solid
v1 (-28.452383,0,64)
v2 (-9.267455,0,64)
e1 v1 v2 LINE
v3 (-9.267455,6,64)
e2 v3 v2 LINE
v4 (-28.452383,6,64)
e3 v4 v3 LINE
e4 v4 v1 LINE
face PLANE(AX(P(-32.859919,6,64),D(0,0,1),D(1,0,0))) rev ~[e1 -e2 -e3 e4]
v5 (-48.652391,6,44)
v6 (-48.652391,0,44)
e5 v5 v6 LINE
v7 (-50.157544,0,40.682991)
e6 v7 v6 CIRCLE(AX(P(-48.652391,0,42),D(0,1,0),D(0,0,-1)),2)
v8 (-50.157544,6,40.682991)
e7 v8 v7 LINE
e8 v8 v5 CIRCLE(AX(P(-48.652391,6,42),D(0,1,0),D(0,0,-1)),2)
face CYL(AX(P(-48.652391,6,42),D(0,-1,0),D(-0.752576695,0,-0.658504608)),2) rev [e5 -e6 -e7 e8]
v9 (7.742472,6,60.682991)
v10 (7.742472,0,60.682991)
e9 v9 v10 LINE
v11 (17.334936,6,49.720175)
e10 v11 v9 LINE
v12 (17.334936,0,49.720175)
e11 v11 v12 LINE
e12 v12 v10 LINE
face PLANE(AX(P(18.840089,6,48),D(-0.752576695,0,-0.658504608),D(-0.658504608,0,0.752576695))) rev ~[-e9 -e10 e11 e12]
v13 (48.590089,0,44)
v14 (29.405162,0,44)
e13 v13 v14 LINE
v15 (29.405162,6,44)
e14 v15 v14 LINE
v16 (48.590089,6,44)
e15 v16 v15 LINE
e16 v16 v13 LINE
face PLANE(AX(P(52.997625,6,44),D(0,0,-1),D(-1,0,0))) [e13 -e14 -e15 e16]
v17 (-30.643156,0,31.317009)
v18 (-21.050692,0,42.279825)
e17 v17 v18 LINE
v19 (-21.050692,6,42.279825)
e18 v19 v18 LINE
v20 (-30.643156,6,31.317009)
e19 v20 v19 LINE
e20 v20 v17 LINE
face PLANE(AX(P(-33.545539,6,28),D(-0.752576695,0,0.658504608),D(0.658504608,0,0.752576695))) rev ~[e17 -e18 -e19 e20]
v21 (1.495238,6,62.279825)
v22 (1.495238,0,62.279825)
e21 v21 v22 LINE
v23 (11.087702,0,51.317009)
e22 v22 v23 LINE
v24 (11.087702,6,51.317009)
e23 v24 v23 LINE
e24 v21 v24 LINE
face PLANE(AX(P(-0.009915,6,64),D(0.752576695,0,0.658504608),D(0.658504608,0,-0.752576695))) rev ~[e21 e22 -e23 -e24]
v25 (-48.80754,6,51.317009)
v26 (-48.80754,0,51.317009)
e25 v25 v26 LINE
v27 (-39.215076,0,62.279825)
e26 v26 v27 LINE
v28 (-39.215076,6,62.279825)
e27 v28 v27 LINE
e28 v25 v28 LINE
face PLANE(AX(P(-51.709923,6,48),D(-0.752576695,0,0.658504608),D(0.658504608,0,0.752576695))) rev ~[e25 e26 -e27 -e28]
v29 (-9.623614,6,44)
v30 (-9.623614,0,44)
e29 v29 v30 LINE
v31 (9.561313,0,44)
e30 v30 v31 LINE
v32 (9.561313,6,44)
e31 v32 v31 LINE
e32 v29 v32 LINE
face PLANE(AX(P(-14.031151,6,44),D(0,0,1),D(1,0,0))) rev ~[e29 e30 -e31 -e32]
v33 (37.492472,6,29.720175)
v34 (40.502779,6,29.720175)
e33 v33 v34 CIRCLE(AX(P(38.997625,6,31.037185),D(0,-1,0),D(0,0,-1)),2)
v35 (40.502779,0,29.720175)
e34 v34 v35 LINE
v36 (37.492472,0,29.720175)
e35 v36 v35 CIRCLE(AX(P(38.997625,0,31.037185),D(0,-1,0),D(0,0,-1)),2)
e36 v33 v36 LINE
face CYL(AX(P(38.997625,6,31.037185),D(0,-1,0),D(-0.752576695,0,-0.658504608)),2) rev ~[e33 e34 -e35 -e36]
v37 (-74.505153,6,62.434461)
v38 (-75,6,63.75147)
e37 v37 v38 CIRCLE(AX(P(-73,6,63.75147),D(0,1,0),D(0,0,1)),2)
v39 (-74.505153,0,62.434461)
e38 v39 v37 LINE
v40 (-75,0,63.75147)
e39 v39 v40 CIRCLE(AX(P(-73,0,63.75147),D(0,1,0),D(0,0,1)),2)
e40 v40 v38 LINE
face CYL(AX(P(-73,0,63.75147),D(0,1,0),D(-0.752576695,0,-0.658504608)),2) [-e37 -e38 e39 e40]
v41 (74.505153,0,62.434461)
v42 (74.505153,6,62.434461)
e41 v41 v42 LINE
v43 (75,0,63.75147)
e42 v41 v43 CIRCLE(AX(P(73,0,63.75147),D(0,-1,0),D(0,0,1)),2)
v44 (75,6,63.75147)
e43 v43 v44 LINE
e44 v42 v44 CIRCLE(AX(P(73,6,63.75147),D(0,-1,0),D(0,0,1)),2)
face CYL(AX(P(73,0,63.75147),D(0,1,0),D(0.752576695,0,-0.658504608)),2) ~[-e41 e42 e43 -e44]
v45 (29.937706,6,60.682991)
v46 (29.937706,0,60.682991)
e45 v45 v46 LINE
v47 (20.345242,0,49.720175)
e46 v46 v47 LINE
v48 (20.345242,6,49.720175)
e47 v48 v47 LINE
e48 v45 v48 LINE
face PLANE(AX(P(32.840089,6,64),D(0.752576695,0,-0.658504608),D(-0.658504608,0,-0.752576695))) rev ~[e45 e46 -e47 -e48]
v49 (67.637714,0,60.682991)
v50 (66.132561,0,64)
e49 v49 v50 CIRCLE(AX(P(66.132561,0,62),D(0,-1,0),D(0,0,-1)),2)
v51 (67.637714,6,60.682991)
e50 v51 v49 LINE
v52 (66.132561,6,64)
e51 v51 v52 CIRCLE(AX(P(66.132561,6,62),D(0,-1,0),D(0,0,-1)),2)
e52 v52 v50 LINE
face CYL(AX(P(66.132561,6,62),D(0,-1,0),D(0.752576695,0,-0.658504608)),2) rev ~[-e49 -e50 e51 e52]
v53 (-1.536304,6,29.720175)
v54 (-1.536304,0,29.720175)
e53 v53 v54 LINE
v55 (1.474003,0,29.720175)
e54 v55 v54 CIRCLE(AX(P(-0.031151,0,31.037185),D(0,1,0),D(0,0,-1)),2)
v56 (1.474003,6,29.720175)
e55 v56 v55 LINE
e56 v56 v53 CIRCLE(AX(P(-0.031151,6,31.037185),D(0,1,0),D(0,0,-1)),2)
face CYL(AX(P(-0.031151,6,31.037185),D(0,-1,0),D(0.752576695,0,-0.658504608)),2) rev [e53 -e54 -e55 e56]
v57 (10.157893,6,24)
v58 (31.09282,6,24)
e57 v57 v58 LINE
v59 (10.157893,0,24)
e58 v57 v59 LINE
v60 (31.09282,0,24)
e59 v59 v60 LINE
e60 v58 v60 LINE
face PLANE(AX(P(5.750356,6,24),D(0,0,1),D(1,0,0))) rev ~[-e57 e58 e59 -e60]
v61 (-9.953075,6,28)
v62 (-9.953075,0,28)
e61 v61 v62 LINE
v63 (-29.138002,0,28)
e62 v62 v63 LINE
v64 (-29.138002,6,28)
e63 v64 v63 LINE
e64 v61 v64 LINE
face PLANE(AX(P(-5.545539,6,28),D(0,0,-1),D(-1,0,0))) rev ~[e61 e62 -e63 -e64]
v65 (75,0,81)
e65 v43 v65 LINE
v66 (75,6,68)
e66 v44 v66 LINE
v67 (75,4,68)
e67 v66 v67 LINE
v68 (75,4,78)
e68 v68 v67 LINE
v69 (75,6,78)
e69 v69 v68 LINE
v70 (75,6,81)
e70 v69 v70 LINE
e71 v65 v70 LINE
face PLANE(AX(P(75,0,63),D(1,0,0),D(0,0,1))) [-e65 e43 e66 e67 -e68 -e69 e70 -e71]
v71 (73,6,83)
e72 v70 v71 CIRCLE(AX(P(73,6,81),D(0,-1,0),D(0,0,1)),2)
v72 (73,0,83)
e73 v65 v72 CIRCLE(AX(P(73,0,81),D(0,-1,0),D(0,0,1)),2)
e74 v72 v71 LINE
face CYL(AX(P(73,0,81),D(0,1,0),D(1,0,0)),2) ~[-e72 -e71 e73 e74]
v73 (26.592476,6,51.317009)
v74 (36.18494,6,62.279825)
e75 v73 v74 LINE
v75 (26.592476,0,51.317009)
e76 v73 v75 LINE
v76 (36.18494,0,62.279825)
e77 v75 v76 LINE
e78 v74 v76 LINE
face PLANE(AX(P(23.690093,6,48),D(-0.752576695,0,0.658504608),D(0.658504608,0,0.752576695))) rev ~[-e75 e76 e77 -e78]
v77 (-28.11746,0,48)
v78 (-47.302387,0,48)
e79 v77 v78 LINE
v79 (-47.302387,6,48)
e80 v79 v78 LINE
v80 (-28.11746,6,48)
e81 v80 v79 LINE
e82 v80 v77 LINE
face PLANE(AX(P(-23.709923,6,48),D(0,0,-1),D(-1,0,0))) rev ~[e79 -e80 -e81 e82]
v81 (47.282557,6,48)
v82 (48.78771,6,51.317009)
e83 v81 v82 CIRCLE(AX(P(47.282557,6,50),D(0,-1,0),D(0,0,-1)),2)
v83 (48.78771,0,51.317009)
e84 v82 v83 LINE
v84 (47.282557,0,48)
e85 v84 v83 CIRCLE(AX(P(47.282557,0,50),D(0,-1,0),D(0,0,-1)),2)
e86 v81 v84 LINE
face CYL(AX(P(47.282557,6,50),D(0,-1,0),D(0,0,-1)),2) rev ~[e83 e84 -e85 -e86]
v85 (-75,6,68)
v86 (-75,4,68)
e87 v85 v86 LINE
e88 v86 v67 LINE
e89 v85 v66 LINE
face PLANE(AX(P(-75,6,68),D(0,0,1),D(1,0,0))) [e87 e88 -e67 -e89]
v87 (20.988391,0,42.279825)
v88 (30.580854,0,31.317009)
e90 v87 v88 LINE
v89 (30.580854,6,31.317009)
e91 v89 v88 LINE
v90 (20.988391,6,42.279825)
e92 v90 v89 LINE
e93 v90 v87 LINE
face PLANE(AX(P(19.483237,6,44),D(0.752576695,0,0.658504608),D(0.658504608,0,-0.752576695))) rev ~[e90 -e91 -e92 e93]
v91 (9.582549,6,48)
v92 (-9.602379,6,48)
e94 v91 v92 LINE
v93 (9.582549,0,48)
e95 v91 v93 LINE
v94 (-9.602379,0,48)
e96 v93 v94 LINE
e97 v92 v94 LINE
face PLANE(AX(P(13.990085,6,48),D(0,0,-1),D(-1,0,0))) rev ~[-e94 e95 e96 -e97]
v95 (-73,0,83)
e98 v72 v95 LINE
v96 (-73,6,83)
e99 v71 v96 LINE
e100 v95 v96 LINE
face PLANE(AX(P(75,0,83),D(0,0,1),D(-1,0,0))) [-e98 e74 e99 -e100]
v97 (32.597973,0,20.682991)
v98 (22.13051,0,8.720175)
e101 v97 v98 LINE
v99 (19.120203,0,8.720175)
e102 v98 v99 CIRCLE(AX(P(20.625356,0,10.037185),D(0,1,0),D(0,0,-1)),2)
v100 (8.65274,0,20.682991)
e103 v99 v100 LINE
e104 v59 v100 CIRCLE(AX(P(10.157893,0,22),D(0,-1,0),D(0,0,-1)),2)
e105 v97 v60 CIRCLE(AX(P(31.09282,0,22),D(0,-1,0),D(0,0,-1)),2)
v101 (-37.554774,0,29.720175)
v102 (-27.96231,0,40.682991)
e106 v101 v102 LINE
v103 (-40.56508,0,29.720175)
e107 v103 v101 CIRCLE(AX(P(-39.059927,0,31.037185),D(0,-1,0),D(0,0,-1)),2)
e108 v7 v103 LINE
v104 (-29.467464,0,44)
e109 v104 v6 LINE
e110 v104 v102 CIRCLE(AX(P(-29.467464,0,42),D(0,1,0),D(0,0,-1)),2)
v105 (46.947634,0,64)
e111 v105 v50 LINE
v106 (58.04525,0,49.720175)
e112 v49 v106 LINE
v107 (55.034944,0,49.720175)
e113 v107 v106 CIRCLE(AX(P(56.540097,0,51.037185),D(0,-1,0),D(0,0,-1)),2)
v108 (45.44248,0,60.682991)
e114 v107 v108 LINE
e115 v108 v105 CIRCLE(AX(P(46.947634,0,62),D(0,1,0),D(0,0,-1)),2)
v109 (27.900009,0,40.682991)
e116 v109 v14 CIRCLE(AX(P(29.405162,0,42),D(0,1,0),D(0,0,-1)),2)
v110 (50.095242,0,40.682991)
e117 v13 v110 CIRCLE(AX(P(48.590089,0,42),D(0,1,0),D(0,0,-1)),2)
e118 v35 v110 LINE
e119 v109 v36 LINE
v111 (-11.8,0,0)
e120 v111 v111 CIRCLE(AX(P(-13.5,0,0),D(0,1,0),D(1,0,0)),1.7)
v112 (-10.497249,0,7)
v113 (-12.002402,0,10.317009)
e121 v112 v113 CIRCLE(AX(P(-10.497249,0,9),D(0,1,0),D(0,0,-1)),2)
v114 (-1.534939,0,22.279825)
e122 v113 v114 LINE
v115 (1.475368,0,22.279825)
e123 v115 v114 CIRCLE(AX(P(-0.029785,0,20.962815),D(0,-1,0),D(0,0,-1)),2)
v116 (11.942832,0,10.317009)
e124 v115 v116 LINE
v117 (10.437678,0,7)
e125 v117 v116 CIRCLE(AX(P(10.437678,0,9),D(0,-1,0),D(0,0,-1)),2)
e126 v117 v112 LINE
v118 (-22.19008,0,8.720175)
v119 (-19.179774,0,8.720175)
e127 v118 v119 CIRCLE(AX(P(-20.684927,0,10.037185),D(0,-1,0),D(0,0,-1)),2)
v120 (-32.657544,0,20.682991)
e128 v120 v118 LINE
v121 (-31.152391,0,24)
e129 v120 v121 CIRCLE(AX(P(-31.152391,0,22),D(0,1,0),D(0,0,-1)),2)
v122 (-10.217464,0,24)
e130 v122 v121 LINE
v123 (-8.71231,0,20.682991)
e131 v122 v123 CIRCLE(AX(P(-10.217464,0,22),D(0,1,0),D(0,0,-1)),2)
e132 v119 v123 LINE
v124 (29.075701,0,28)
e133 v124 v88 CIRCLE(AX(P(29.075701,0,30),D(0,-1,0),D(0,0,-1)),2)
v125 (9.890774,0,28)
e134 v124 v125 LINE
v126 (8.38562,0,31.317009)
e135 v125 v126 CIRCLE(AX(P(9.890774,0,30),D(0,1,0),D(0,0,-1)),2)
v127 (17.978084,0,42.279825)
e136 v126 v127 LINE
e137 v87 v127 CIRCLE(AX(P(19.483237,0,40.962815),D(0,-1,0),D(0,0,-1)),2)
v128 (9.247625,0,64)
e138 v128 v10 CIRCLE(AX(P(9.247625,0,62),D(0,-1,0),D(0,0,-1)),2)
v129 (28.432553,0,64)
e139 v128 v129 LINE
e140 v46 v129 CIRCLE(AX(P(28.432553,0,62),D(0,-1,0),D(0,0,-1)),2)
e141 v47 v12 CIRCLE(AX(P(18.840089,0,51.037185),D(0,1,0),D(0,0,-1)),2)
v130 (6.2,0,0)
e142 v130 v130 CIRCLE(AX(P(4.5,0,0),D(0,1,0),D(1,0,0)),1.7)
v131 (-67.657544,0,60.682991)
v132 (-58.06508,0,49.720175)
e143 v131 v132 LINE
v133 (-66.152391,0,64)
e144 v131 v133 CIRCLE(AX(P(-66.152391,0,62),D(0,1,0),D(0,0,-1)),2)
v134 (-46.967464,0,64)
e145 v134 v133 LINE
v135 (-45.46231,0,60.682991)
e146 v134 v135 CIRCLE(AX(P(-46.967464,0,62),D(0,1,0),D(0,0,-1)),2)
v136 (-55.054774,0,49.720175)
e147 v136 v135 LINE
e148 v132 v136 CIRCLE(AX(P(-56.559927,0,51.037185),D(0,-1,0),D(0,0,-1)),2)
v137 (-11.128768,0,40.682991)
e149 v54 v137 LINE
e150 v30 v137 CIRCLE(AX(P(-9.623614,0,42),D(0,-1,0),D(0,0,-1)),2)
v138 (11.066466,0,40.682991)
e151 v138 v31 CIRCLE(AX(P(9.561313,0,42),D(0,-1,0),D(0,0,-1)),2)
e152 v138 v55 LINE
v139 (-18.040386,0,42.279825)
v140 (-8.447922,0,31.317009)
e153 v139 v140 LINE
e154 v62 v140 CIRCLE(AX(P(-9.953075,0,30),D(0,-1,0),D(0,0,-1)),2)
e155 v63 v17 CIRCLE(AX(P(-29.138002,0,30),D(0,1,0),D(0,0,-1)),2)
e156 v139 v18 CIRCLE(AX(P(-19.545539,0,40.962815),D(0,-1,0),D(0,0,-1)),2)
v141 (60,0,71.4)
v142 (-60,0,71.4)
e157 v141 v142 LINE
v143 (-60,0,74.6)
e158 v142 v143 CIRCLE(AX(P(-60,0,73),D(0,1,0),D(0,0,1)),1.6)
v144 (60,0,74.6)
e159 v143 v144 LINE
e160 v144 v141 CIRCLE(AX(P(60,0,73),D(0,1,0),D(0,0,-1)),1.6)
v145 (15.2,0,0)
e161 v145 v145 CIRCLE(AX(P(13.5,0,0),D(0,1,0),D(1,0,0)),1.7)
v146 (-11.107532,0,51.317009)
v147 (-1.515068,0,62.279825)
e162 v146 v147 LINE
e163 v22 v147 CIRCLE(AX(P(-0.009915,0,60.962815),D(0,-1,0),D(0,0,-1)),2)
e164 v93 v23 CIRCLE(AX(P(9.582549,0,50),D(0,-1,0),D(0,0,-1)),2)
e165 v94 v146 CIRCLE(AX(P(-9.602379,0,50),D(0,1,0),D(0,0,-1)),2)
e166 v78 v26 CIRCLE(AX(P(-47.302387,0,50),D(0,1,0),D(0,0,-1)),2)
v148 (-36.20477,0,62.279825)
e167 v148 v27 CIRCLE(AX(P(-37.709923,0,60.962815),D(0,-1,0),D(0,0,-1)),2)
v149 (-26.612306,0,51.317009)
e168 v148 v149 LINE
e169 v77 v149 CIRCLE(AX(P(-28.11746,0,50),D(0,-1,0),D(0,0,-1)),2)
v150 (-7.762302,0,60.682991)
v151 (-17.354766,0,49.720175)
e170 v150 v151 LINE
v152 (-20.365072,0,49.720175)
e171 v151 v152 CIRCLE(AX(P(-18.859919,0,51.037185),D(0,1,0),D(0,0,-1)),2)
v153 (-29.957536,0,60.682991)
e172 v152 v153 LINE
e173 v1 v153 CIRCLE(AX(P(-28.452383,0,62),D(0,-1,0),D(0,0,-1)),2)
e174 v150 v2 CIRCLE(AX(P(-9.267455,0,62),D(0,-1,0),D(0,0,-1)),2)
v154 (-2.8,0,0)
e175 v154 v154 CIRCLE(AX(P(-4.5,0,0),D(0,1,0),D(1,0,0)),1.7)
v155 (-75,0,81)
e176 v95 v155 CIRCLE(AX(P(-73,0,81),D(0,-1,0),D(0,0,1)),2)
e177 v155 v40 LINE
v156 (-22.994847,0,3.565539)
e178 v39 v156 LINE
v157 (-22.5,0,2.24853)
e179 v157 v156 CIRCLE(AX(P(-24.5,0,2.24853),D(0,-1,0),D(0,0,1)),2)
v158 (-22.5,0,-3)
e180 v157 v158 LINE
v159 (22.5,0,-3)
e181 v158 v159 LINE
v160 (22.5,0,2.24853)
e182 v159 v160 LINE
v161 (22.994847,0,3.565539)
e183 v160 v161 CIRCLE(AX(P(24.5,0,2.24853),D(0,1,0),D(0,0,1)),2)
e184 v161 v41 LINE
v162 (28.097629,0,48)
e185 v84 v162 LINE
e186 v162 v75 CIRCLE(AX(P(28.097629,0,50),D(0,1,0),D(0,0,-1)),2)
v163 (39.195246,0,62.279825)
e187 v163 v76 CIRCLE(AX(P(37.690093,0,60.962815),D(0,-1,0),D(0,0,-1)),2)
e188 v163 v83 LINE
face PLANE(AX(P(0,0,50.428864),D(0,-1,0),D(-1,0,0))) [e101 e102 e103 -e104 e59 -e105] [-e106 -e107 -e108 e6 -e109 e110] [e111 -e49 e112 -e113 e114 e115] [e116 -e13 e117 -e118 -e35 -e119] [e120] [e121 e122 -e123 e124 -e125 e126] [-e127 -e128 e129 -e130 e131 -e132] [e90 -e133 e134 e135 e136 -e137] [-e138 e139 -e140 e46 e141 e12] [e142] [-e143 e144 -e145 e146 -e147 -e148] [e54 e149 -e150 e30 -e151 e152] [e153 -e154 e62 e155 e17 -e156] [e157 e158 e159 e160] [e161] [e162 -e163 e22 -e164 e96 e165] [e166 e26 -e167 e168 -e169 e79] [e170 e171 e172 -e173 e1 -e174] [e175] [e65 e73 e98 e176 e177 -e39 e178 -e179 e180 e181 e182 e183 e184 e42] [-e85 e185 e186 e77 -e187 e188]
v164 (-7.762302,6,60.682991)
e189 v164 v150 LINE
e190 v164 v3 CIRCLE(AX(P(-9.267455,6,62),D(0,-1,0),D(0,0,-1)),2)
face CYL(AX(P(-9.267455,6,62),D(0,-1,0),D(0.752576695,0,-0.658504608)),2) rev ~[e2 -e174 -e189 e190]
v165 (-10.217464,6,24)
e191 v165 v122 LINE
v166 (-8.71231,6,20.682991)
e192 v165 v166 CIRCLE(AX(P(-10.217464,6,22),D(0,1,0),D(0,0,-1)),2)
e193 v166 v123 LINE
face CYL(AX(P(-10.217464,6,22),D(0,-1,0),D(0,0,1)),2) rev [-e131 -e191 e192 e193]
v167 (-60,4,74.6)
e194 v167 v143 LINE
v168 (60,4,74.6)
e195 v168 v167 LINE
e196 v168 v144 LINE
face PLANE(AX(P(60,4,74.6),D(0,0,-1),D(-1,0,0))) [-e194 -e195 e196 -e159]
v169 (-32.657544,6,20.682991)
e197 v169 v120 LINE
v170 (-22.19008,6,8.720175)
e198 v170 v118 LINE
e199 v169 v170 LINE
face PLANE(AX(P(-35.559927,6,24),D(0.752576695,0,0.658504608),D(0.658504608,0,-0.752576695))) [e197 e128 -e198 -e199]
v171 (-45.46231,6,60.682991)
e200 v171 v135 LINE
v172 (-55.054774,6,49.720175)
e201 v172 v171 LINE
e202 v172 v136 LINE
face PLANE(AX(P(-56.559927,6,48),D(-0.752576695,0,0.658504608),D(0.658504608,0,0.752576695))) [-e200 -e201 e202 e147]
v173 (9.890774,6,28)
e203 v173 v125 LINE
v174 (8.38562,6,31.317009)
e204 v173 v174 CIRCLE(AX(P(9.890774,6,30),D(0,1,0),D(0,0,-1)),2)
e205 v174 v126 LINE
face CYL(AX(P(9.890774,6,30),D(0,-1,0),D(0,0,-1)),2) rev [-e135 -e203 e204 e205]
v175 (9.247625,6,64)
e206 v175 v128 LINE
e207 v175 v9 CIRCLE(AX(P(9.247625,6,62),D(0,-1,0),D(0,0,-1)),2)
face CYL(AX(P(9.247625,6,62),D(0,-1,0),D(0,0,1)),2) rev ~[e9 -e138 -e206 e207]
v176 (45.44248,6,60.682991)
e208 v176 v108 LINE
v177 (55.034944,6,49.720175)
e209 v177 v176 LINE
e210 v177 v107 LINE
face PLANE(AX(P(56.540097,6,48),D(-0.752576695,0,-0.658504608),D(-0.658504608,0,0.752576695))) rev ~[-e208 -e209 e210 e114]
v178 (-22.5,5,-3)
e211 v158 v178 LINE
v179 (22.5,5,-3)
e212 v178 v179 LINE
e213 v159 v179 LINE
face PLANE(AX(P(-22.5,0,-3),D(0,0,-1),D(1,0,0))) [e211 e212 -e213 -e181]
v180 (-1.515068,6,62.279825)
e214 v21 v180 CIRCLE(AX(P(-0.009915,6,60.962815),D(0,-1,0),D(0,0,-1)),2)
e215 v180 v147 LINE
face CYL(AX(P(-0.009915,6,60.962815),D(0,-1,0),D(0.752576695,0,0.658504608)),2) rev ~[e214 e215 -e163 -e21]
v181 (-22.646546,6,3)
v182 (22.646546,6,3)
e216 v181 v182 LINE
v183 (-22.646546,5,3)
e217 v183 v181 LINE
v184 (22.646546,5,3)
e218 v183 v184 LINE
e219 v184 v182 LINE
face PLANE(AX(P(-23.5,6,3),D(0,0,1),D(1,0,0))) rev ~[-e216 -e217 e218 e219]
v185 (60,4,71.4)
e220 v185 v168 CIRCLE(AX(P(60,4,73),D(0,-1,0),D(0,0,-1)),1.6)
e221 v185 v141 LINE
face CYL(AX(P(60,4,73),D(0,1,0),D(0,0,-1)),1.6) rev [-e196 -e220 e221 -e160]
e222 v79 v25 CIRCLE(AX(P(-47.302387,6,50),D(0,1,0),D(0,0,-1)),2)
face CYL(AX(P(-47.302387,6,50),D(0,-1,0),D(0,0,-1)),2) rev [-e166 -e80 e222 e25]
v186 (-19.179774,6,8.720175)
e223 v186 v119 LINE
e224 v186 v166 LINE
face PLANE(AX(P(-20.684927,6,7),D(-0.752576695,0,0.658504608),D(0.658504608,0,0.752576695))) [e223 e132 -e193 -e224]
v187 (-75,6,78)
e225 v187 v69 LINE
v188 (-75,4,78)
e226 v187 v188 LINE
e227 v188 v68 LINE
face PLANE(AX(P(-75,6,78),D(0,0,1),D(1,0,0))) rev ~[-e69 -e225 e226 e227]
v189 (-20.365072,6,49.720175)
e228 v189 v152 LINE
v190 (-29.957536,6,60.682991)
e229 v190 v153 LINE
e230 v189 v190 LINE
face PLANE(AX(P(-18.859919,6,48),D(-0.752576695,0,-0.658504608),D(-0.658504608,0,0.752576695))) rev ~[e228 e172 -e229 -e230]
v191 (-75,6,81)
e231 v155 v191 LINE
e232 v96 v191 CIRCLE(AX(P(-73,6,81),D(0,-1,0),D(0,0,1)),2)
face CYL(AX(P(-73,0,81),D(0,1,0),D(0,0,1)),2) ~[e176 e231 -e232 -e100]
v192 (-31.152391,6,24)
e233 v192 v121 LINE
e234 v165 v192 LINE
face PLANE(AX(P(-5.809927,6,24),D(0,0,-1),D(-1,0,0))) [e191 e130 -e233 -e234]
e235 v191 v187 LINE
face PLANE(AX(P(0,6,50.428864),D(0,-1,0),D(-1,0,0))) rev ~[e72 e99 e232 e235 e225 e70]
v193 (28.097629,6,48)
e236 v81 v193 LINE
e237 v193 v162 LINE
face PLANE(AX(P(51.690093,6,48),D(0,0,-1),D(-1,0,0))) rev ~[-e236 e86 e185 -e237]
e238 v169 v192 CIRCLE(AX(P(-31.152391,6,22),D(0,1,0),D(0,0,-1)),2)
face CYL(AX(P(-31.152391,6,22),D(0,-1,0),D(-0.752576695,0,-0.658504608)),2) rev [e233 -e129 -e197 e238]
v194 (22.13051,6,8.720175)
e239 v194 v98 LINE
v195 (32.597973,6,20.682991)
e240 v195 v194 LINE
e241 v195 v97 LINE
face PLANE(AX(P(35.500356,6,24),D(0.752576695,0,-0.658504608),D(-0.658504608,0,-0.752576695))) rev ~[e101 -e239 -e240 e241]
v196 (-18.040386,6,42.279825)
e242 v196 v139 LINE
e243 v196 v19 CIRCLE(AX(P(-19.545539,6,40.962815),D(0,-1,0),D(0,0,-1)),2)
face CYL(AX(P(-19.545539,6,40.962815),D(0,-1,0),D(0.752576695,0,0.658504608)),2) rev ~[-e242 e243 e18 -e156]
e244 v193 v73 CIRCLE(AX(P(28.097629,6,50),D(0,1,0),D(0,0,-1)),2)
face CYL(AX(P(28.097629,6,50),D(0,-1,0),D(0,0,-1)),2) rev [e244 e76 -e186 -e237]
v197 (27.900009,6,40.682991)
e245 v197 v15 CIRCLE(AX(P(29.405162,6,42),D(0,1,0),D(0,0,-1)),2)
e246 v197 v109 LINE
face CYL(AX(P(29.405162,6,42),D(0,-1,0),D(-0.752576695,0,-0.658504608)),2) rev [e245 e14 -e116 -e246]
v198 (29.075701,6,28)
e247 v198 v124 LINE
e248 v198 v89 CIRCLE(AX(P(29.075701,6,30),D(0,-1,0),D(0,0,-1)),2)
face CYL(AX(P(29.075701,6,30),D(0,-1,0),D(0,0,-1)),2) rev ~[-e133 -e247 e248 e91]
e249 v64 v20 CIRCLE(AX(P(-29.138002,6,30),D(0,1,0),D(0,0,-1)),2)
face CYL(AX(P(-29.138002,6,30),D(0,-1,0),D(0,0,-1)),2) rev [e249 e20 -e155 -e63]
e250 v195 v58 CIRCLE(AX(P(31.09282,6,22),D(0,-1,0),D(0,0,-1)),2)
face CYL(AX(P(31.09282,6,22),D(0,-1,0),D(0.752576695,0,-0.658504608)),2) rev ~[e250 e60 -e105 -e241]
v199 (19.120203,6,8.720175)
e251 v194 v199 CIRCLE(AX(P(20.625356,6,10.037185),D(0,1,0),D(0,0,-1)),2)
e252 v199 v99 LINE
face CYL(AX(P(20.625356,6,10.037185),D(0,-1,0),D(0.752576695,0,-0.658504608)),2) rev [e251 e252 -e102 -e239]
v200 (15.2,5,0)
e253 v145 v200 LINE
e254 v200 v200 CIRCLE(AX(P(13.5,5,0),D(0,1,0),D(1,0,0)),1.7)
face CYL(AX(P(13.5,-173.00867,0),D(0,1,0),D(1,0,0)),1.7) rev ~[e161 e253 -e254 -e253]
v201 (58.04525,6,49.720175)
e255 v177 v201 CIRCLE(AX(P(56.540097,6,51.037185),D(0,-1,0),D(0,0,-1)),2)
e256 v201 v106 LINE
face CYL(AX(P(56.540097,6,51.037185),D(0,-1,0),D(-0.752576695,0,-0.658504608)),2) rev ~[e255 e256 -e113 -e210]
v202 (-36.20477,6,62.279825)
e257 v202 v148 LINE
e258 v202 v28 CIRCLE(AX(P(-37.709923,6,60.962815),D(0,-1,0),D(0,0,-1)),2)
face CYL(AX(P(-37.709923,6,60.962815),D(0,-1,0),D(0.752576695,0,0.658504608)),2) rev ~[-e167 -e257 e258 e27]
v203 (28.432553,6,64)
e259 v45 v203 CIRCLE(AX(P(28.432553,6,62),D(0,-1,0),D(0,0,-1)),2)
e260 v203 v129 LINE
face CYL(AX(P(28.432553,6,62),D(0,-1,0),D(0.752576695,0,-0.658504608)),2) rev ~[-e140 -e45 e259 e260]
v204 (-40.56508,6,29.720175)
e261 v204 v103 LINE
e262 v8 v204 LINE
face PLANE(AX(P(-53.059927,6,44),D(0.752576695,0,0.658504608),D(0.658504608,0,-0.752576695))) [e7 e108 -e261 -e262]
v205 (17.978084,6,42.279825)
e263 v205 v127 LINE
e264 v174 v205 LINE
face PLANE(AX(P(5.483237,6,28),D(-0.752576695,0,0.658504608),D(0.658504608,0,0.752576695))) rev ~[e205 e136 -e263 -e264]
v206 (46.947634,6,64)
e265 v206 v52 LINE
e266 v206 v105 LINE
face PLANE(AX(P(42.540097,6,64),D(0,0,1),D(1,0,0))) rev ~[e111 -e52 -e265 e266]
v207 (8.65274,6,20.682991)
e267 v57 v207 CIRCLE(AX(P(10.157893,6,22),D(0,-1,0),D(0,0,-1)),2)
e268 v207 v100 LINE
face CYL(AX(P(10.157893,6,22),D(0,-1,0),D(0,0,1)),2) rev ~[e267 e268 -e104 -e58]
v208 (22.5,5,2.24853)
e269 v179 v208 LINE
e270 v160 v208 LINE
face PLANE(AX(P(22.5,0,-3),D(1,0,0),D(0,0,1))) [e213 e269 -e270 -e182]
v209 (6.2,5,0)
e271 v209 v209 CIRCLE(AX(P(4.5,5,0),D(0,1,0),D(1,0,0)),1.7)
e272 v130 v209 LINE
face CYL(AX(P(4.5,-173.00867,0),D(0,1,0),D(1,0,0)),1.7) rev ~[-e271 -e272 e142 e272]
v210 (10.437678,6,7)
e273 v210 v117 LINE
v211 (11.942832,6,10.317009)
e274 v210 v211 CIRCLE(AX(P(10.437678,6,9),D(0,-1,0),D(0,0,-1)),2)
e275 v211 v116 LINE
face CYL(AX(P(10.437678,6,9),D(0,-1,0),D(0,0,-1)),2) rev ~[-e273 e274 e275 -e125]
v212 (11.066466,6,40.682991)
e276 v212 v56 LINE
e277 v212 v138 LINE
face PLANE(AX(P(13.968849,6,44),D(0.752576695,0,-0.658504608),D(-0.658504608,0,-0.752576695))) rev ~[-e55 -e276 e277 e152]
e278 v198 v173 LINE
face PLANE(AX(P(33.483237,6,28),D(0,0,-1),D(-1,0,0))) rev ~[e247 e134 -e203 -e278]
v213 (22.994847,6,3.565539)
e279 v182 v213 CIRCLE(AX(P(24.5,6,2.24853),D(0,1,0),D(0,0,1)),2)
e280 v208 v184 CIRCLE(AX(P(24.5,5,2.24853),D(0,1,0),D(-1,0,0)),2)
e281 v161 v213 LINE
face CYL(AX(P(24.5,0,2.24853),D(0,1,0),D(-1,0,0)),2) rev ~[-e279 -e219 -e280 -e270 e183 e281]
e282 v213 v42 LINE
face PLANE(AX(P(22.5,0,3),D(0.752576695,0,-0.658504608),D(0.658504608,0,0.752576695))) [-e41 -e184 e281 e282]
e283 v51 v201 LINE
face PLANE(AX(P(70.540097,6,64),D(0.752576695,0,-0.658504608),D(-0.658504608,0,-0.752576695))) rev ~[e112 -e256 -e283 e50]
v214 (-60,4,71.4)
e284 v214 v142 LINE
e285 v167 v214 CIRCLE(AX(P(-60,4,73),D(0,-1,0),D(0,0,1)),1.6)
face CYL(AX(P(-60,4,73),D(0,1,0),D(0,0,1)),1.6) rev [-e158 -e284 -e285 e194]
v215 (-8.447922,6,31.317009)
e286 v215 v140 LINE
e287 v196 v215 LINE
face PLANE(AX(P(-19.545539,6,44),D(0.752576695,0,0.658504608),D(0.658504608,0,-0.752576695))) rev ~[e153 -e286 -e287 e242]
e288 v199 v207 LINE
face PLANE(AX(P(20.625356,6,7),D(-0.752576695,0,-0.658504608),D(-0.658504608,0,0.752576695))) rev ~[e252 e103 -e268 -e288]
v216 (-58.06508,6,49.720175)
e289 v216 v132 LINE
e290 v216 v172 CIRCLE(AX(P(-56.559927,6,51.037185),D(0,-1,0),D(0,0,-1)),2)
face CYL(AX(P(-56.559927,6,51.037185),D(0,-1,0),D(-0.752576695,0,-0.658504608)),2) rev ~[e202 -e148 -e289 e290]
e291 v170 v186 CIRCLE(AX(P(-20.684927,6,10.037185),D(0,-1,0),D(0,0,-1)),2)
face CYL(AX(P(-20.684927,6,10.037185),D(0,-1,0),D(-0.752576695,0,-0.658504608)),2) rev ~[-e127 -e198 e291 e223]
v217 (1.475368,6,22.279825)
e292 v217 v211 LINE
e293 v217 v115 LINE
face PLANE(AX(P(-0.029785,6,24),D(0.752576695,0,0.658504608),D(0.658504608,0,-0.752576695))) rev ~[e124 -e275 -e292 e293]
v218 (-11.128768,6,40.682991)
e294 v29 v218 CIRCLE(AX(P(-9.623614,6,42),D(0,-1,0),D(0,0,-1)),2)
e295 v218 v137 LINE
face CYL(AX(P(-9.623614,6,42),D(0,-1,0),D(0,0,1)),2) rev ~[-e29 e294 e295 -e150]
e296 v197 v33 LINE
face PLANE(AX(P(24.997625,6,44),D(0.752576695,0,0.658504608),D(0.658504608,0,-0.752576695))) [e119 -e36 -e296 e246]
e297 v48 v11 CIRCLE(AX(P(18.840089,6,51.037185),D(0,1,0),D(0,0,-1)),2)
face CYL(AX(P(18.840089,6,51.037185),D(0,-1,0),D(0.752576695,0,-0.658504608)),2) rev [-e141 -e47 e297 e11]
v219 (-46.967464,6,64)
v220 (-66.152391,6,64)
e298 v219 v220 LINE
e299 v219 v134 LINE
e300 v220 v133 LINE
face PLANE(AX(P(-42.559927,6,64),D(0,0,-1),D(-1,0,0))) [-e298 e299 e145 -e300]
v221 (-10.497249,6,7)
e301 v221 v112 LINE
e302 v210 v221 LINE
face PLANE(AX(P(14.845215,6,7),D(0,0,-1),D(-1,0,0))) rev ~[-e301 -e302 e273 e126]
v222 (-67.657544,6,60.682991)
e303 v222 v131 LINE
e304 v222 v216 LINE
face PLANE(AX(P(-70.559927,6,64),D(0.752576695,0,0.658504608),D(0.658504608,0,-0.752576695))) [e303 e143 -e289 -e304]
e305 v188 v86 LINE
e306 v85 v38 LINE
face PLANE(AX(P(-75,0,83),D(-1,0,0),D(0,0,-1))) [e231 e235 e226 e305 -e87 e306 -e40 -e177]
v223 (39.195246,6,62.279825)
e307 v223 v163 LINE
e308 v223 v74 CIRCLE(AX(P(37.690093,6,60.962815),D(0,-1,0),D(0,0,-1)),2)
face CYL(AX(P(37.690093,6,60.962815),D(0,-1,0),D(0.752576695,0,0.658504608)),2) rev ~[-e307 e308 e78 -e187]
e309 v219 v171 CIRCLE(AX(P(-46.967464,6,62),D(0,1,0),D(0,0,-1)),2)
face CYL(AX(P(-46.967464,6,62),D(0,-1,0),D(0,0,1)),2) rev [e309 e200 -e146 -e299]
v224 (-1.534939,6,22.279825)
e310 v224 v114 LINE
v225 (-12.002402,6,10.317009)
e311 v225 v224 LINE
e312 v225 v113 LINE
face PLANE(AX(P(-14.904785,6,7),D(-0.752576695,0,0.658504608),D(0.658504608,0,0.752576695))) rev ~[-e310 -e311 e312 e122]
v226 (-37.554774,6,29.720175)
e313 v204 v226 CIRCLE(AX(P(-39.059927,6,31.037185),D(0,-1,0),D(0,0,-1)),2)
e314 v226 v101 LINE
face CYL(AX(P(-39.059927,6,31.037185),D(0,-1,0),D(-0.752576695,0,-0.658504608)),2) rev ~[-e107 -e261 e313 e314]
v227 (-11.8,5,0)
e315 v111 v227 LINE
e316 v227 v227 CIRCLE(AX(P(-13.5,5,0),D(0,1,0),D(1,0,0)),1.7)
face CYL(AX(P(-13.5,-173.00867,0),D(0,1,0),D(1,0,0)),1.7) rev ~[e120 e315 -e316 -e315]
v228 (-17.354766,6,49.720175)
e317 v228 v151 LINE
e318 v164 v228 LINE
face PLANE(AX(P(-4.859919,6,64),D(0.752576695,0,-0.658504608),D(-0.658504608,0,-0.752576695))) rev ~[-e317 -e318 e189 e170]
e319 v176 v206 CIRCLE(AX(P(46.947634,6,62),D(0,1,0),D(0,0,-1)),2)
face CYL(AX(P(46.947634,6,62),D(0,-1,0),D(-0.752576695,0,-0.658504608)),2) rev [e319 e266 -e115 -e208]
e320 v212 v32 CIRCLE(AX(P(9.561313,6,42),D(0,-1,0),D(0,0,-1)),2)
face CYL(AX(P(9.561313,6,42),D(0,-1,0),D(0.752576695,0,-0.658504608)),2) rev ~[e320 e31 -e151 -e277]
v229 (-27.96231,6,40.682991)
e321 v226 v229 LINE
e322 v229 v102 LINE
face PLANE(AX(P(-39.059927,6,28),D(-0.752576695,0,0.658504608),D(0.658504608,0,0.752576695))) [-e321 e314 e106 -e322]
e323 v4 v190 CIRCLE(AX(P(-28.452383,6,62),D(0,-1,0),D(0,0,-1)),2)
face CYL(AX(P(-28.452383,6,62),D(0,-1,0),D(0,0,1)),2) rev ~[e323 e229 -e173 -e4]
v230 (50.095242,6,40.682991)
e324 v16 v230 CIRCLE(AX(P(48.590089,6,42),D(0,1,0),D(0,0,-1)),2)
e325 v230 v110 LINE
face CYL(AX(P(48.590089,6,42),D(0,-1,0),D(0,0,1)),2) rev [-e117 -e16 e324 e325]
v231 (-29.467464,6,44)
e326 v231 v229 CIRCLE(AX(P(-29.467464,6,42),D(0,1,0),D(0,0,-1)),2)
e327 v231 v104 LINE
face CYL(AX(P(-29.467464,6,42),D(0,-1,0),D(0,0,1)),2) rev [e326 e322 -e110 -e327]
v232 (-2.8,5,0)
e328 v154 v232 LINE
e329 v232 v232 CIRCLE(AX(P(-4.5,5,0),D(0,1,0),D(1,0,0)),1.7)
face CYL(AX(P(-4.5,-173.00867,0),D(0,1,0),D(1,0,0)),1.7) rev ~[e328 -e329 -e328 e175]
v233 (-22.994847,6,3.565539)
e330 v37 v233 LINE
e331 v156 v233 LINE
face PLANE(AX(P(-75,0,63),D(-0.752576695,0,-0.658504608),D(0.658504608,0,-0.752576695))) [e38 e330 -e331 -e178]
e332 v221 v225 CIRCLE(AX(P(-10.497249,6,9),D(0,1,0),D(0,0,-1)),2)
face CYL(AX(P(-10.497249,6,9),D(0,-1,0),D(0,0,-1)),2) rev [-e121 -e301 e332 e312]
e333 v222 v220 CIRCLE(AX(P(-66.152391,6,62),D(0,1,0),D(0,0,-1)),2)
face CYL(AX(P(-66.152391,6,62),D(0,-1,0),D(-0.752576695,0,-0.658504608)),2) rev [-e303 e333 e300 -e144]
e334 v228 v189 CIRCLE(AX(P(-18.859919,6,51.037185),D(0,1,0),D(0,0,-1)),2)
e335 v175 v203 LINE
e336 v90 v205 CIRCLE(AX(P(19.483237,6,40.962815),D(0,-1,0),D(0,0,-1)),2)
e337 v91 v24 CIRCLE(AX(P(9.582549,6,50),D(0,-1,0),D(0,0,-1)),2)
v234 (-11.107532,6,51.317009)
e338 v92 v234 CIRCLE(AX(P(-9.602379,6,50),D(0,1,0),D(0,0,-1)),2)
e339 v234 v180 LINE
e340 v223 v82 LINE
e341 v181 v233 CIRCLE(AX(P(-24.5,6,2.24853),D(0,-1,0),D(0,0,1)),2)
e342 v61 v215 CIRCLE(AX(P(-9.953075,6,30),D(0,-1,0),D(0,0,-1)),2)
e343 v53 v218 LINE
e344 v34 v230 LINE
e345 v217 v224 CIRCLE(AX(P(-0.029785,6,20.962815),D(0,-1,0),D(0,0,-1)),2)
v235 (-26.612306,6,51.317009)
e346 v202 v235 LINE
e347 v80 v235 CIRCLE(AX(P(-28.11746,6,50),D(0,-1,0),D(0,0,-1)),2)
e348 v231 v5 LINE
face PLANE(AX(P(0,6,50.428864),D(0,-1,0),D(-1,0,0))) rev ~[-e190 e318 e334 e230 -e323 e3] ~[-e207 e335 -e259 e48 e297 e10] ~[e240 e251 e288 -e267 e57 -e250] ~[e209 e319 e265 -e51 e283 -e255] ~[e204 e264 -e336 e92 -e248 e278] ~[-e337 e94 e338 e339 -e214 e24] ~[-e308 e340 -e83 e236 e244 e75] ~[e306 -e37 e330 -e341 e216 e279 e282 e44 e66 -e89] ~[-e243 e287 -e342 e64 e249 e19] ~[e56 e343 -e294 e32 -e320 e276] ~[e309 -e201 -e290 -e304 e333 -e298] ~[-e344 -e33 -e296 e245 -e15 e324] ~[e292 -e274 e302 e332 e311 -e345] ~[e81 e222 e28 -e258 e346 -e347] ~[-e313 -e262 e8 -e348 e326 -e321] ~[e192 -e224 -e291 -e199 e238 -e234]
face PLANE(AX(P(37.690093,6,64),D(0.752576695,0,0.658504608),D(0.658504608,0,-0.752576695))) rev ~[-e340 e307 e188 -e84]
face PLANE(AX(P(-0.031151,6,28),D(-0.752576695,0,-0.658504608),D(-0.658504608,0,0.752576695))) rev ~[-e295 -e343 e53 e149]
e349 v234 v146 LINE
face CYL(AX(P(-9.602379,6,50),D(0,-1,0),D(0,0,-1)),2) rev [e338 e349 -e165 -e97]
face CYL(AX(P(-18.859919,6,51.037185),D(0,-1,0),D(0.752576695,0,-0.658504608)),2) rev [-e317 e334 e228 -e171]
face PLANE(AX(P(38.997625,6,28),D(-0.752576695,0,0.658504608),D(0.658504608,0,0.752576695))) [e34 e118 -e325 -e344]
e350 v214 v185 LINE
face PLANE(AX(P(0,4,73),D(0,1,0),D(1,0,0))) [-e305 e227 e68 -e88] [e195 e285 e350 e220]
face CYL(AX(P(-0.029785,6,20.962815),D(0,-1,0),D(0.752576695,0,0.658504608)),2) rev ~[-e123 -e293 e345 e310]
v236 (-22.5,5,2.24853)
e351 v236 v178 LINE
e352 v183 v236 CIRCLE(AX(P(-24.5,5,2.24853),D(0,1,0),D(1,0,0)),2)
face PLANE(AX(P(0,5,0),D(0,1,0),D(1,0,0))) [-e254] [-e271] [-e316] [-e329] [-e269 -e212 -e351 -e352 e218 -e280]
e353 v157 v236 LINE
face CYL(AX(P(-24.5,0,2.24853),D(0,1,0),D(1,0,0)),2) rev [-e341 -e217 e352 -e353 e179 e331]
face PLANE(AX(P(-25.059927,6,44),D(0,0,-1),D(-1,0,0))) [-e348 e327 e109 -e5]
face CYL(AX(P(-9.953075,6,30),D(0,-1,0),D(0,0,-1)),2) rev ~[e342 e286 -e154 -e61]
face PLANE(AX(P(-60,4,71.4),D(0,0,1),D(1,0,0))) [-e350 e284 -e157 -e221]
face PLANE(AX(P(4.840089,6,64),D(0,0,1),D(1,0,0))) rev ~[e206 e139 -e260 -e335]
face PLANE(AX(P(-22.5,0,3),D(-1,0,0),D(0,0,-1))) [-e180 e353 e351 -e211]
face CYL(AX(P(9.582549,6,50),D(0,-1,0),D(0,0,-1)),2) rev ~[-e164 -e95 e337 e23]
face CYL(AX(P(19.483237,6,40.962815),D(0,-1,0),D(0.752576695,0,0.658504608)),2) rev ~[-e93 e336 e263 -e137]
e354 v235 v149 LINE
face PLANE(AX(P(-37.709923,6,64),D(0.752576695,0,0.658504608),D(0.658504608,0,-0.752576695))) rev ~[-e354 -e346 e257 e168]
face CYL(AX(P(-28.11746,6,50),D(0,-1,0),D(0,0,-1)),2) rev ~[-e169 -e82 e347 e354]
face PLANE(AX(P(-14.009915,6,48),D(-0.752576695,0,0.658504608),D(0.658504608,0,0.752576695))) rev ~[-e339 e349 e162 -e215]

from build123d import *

# Parameters (mm, degrees)
EXTRUDE_1_DEPTH     = 6
SKETCH_2_W          = 150
SKETCH_2_H          = 10
CUT_EXTRUDE_1_DEPTH = 2
FILLET_3_R          = 2
SKETCH_3_W          = 47
SKETCH_3_H          = 6
CUT_EXTRUDE_2_DEPTH = 1
HOLE_WIZARD_M31_D   = 3.4
CUT_EXTRUDE_3_DEPTH = 112.937482552
CUT_EXTRUDE_4_REACH = 114.027
FILLET_1_R          = 2


with BuildPart() as part:
    # Эскиз1 → Бобышка-Вытянуть1 (new body)
    with BuildSketch(Plane(origin=(0, 0, 0), x_dir=(1, 0, 0), z_dir=(0, 1, 0))):
        Polygon((-22.5, 3), (22.5, 3), (22.5, -3), (75, -63), (75, -83), (-75, -83), (-75, -63), (-22.5, -3), align=None)
    extrude(amount=EXTRUDE_1_DEPTH)

    # Эскиз2 → Вырез-Вытянуть1 (cut)
    with BuildSketch(Plane(origin=(0, 6, 0), x_dir=(1, 0, 0), z_dir=(0, 1, 0))):
        with Locations((0, -73)):
            Rectangle(SKETCH_2_W, SKETCH_2_H)
    extrude(amount=-CUT_EXTRUDE_1_DEPTH, mode=Mode.SUBTRACT)

    # Скругление3
    fillet_3_edges = [part.edges().sort_by_distance(p)[0] for p in [
        (-22.5, 3, 3),
        (22.5, 3, 3),
    ]]
    fillet(fillet_3_edges, radius=FILLET_3_R)

    # Эскиз3 → Вырез-Вытянуть2 (cut)
    with BuildSketch(Plane(origin=(0, 6, 0), x_dir=(1, 0, 0), z_dir=(0, 1, 0))):
        Rectangle(SKETCH_3_W, SKETCH_3_H)
    extrude(amount=-CUT_EXTRUDE_2_DEPTH, mode=Mode.SUBTRACT)

    # Отверстие с зазором M31 (through all)
    with Locations(Plane(origin=(0, 0, 0), x_dir=(-1, 0, 0), z_dir=(0, -1, 0))):
        with Locations((-13.5, 0), (-4.5, 0), (4.5, 0), (13.5, 0)):
            Hole(HOLE_WIZARD_M31_D / 2)

    # Эскиз9 → Вырез-Вытянуть3 (cut, through all)
    with BuildSketch(Plane(origin=(0, 4, 0), x_dir=(1, 0, 0), z_dir=(0, 1, 0))):
        with BuildLine():
            Line((-60, -71.4), (60, -71.4))
            ThreePointArc((60, -71.4), (61.6, -73), (60, -74.6))
            Line((60, -74.6), (-60, -74.6))
            ThreePointArc((-60, -74.6), (-61.6, -73), (-60, -71.4))
        make_face()
    extrude(amount=-CUT_EXTRUDE_3_DEPTH, mode=Mode.SUBTRACT)

    # Эскиз10 → Вырез-Вытянуть4 (cut, up to next)
    with BuildSketch(Plane(origin=(0, 6, 0), x_dir=(1, 0, 0), z_dir=(0, 1, 0)), mode=Mode.PRIVATE) as cut_extrude_4_sk1:
        Polygon((-70.559927094, -64), (-56.559927094, -48), (-42.559927094, -64), align=None)
    cut_extrude_4_tool1 = extrude(cut_extrude_4_sk1.sketch, amount=-CUT_EXTRUDE_4_REACH, mode=Mode.PRIVATE) & part.part
    # Эскиз10 → Вырез-Вытянуть4 (cut, up to next)
    with BuildSketch(Plane(origin=(0, 6, 0), x_dir=(1, 0, 0), z_dir=(0, 1, 0)), mode=Mode.PRIVATE) as cut_extrude_4_sk2:
        Polygon((-51.709923067, -48), (-37.709923067, -64), (-23.709923067, -48), align=None)
    cut_extrude_4_tool2 = extrude(cut_extrude_4_sk2.sketch, amount=-CUT_EXTRUDE_4_REACH, mode=Mode.PRIVATE) & part.part
    # Эскиз10 → Вырез-Вытянуть4 (cut, up to next)
    with BuildSketch(Plane(origin=(0, 6, 0), x_dir=(1, 0, 0), z_dir=(0, 1, 0)), mode=Mode.PRIVATE) as cut_extrude_4_sk3:
        Polygon((-18.85991904, -48), (-32.85991904, -64), (-4.85991904, -64), align=None)
    cut_extrude_4_tool3 = extrude(cut_extrude_4_sk3.sketch, amount=-CUT_EXTRUDE_4_REACH, mode=Mode.PRIVATE) & part.part
    # Эскиз10 → Вырез-Вытянуть4 (cut, up to next)
    with BuildSketch(Plane(origin=(0, 6, 0), x_dir=(1, 0, 0), z_dir=(0, 1, 0)), mode=Mode.PRIVATE) as cut_extrude_4_sk4:
        Polygon((-14.009915012, -48), (-0.009915012, -64), (13.990084988, -48), align=None)
    cut_extrude_4_tool4 = extrude(cut_extrude_4_sk4.sketch, amount=-CUT_EXTRUDE_4_REACH, mode=Mode.PRIVATE) & part.part
    # Эскиз10 → Вырез-Вытянуть4 (cut, up to next)
    with BuildSketch(Plane(origin=(0, 6, 0), x_dir=(1, 0, 0), z_dir=(0, 1, 0)), mode=Mode.PRIVATE) as cut_extrude_4_sk5:
        Polygon((18.840089015, -48), (4.840089015, -64), (32.840089015, -64), align=None)
    cut_extrude_4_tool5 = extrude(cut_extrude_4_sk5.sketch, amount=-CUT_EXTRUDE_4_REACH, mode=Mode.PRIVATE) & part.part
    # Эскиз10 → Вырез-Вытянуть4 (cut, up to next)
    with BuildSketch(Plane(origin=(0, 6, 0), x_dir=(1, 0, 0), z_dir=(0, 1, 0)), mode=Mode.PRIVATE) as cut_extrude_4_sk6:
        Polygon((23.690093042, -48), (37.690093042, -64), (51.690093042, -48), align=None)
    cut_extrude_4_tool6 = extrude(cut_extrude_4_sk6.sketch, amount=-CUT_EXTRUDE_4_REACH, mode=Mode.PRIVATE) & part.part
    # Эскиз10 → Вырез-Вытянуть4 (cut, up to next)
    with BuildSketch(Plane(origin=(0, 6, 0), x_dir=(1, 0, 0), z_dir=(0, 1, 0)), mode=Mode.PRIVATE) as cut_extrude_4_sk7:
        Polygon((42.540097069, -64), (70.540097069, -64), (56.540097069, -48), align=None)
    cut_extrude_4_tool7 = extrude(cut_extrude_4_sk7.sketch, amount=-CUT_EXTRUDE_4_REACH, mode=Mode.PRIVATE) & part.part
    # Эскиз10 → Вырез-Вытянуть4 (cut, up to next)
    with BuildSketch(Plane(origin=(0, 6, 0), x_dir=(1, 0, 0), z_dir=(0, 1, 0)), mode=Mode.PRIVATE) as cut_extrude_4_sk8:
        Polygon((-53.059927094, -44), (-39.059927094, -28), (-25.059927094, -44), align=None)
    cut_extrude_4_tool8 = extrude(cut_extrude_4_sk8.sketch, amount=-CUT_EXTRUDE_4_REACH, mode=Mode.PRIVATE) & part.part
    # Эскиз10 → Вырез-Вытянуть4 (cut, up to next)
    with BuildSketch(Plane(origin=(0, 6, 0), x_dir=(1, 0, 0), z_dir=(0, 1, 0)), mode=Mode.PRIVATE) as cut_extrude_4_sk9:
        Polygon((-33.545538953, -28), (-19.545538953, -44), (-5.545538953, -28), align=None)
    cut_extrude_4_tool9 = extrude(cut_extrude_4_sk9.sketch, amount=-CUT_EXTRUDE_4_REACH, mode=Mode.PRIVATE) & part.part
    # Эскиз10 → Вырез-Вытянуть4 (cut, up to next)
    with BuildSketch(Plane(origin=(0, 6, 0), x_dir=(1, 0, 0), z_dir=(0, 1, 0)), mode=Mode.PRIVATE) as cut_extrude_4_sk10:
        Polygon((-0.031150813, -28), (-14.031150813, -44), (13.968849187, -44), align=None)
    cut_extrude_4_tool10 = extrude(cut_extrude_4_sk10.sketch, amount=-CUT_EXTRUDE_4_REACH, mode=Mode.PRIVATE) & part.part
    # Эскиз10 → Вырез-Вытянуть4 (cut, up to next)
    with BuildSketch(Plane(origin=(0, 6, 0), x_dir=(1, 0, 0), z_dir=(0, 1, 0)), mode=Mode.PRIVATE) as cut_extrude_4_sk11:
        Polygon((5.483237327, -28), (19.483237327, -44), (33.483237327, -28), align=None)
    cut_extrude_4_tool11 = extrude(cut_extrude_4_sk11.sketch, amount=-CUT_EXTRUDE_4_REACH, mode=Mode.PRIVATE) & part.part
    # Эскиз10 → Вырез-Вытянуть4 (cut, up to next)
    with BuildSketch(Plane(origin=(0, 6, 0), x_dir=(1, 0, 0), z_dir=(0, 1, 0)), mode=Mode.PRIVATE) as cut_extrude_4_sk12:
        Polygon((24.997625468, -44), (38.997625468, -28), (52.997625468, -44), align=None)
    cut_extrude_4_tool12 = extrude(cut_extrude_4_sk12.sketch, amount=-CUT_EXTRUDE_4_REACH, mode=Mode.PRIVATE) & part.part
    # Эскиз10 → Вырез-Вытянуть4 (cut, up to next)
    with BuildSketch(Plane(origin=(0, 6, 0), x_dir=(1, 0, 0), z_dir=(0, 1, 0)), mode=Mode.PRIVATE) as cut_extrude_4_sk13:
        Polygon((-35.559927094, -24), (-20.684927094, -7), (-5.809927094, -24), align=None)
    cut_extrude_4_tool13 = extrude(cut_extrude_4_sk13.sketch, amount=-CUT_EXTRUDE_4_REACH, mode=Mode.PRIVATE) & part.part
    # Эскиз10 → Вырез-Вытянуть4 (cut, up to next)
    with BuildSketch(Plane(origin=(0, 6, 0), x_dir=(1, 0, 0), z_dir=(0, 1, 0)), mode=Mode.PRIVATE) as cut_extrude_4_sk14:
        Polygon((-14.904785308, -7), (-0.029785308, -24), (14.845214692, -7), align=None)
    cut_extrude_4_tool14 = extrude(cut_extrude_4_sk14.sketch, amount=-CUT_EXTRUDE_4_REACH, mode=Mode.PRIVATE) & part.part
    # Эскиз10 → Вырез-Вытянуть4 (cut, up to next)
    with BuildSketch(Plane(origin=(0, 6, 0), x_dir=(1, 0, 0), z_dir=(0, 1, 0)), mode=Mode.PRIVATE) as cut_extrude_4_sk15:
        Polygon((20.625356478, -7), (5.750356478, -24), (35.500356478, -24), align=None)
    cut_extrude_4_tool15 = extrude(cut_extrude_4_sk15.sketch, amount=-CUT_EXTRUDE_4_REACH, mode=Mode.PRIVATE) & part.part
    add(cut_extrude_4_tool1.solids().sort_by_distance((-56.559927, 6, 58.666667))[0], mode=Mode.SUBTRACT)
    add(cut_extrude_4_tool2.solids().sort_by_distance((-37.709923, 6, 53.333333))[0], mode=Mode.SUBTRACT)
    add(cut_extrude_4_tool3.solids().sort_by_distance((-18.859919, 6, 58.666667))[0], mode=Mode.SUBTRACT)
    add(cut_extrude_4_tool4.solids().sort_by_distance((-0.009915, 6, 53.333333))[0], mode=Mode.SUBTRACT)
    add(cut_extrude_4_tool5.solids().sort_by_distance((18.840089, 6, 58.666667))[0], mode=Mode.SUBTRACT)
    add(cut_extrude_4_tool6.solids().sort_by_distance((37.690093, 6, 53.333333))[0], mode=Mode.SUBTRACT)
    add(cut_extrude_4_tool7.solids().sort_by_distance((56.540097, 6, 58.666667))[0], mode=Mode.SUBTRACT)
    add(cut_extrude_4_tool8.solids().sort_by_distance((-39.059927, 6, 38.666667))[0], mode=Mode.SUBTRACT)
    add(cut_extrude_4_tool9.solids().sort_by_distance((-19.545539, 6, 33.333333))[0], mode=Mode.SUBTRACT)
    add(cut_extrude_4_tool10.solids().sort_by_distance((-0.031151, 6, 38.666667))[0], mode=Mode.SUBTRACT)
    add(cut_extrude_4_tool11.solids().sort_by_distance((19.483237, 6, 33.333333))[0], mode=Mode.SUBTRACT)
    add(cut_extrude_4_tool12.solids().sort_by_distance((38.997625, 6, 38.666667))[0], mode=Mode.SUBTRACT)
    add(cut_extrude_4_tool13.solids().sort_by_distance((-20.684927, 6, 18.333333))[0], mode=Mode.SUBTRACT)
    add(cut_extrude_4_tool14.solids().sort_by_distance((-0.029785, 6, 12.666667))[0], mode=Mode.SUBTRACT)
    add(cut_extrude_4_tool15.solids().sort_by_distance((20.625356, 6, 18.333333))[0], mode=Mode.SUBTRACT)

    # Скругление1
    fillet_1_edges = [part.edges().sort_by_distance(p)[0] for p in [
        (-42.559927094, 3, 64),
        (-70.559927094, 3, 64),
        (-56.559927094, 3, 48),
        (-51.709923067, 3, 48),
        (-23.709923067, 3, 48),
        (-37.709923067, 3, 64),
        (75, 3, 63),
        (75, 3, 83),
        (-75, 3, 83),
        (-75, 3, 63),
        (-18.85991904, 3, 48),
        (-4.85991904, 3, 64),
        (-32.85991904, 3, 64),
        (-14.009915012, 3, 48),
        (13.990084988, 3, 48),
        (-0.009915012, 3, 64),
        (18.840089015, 3, 48),
        (32.840089015, 3, 64),
        (4.840089015, 3, 64),
        (23.690093042, 3, 48),
        (51.690093042, 3, 48),
        (37.690093042, 3, 64),
        (-25.059927094, 3, 44),
        (-53.059927094, 3, 44),
        (-39.059927094, 3, 28),
        (42.540097069, 3, 64),
        (56.540097069, 3, 48),
        (70.540097069, 3, 64),
        (-33.545538953, 3, 28),
        (-5.545538953, 3, 28),
        (-19.545538953, 3, 44),
        (-0.031150813, 3, 28),
        (13.968849187, 3, 44),
        (-14.031150813, 3, 44),
        (5.483237327, 3, 28),
        (33.483237327, 3, 28),
        (19.483237327, 3, 44),
        (52.997625468, 3, 44),
        (24.997625468, 3, 44),
        (38.997625468, 3, 28),
        (-5.809927094, 3, 24),
        (-35.559927094, 3, 24),
        (-20.684927094, 3, 7),
        (-14.904785308, 3, 7),
        (14.845214692, 3, 7),
        (-0.029785308, 3, 24),
        (20.625356478, 3, 7),
        (35.500356478, 3, 24),
        (5.750356478, 3, 24),
    ]]
    fillet(fillet_1_edges, radius=FILLET_1_R)


solid = part.part
